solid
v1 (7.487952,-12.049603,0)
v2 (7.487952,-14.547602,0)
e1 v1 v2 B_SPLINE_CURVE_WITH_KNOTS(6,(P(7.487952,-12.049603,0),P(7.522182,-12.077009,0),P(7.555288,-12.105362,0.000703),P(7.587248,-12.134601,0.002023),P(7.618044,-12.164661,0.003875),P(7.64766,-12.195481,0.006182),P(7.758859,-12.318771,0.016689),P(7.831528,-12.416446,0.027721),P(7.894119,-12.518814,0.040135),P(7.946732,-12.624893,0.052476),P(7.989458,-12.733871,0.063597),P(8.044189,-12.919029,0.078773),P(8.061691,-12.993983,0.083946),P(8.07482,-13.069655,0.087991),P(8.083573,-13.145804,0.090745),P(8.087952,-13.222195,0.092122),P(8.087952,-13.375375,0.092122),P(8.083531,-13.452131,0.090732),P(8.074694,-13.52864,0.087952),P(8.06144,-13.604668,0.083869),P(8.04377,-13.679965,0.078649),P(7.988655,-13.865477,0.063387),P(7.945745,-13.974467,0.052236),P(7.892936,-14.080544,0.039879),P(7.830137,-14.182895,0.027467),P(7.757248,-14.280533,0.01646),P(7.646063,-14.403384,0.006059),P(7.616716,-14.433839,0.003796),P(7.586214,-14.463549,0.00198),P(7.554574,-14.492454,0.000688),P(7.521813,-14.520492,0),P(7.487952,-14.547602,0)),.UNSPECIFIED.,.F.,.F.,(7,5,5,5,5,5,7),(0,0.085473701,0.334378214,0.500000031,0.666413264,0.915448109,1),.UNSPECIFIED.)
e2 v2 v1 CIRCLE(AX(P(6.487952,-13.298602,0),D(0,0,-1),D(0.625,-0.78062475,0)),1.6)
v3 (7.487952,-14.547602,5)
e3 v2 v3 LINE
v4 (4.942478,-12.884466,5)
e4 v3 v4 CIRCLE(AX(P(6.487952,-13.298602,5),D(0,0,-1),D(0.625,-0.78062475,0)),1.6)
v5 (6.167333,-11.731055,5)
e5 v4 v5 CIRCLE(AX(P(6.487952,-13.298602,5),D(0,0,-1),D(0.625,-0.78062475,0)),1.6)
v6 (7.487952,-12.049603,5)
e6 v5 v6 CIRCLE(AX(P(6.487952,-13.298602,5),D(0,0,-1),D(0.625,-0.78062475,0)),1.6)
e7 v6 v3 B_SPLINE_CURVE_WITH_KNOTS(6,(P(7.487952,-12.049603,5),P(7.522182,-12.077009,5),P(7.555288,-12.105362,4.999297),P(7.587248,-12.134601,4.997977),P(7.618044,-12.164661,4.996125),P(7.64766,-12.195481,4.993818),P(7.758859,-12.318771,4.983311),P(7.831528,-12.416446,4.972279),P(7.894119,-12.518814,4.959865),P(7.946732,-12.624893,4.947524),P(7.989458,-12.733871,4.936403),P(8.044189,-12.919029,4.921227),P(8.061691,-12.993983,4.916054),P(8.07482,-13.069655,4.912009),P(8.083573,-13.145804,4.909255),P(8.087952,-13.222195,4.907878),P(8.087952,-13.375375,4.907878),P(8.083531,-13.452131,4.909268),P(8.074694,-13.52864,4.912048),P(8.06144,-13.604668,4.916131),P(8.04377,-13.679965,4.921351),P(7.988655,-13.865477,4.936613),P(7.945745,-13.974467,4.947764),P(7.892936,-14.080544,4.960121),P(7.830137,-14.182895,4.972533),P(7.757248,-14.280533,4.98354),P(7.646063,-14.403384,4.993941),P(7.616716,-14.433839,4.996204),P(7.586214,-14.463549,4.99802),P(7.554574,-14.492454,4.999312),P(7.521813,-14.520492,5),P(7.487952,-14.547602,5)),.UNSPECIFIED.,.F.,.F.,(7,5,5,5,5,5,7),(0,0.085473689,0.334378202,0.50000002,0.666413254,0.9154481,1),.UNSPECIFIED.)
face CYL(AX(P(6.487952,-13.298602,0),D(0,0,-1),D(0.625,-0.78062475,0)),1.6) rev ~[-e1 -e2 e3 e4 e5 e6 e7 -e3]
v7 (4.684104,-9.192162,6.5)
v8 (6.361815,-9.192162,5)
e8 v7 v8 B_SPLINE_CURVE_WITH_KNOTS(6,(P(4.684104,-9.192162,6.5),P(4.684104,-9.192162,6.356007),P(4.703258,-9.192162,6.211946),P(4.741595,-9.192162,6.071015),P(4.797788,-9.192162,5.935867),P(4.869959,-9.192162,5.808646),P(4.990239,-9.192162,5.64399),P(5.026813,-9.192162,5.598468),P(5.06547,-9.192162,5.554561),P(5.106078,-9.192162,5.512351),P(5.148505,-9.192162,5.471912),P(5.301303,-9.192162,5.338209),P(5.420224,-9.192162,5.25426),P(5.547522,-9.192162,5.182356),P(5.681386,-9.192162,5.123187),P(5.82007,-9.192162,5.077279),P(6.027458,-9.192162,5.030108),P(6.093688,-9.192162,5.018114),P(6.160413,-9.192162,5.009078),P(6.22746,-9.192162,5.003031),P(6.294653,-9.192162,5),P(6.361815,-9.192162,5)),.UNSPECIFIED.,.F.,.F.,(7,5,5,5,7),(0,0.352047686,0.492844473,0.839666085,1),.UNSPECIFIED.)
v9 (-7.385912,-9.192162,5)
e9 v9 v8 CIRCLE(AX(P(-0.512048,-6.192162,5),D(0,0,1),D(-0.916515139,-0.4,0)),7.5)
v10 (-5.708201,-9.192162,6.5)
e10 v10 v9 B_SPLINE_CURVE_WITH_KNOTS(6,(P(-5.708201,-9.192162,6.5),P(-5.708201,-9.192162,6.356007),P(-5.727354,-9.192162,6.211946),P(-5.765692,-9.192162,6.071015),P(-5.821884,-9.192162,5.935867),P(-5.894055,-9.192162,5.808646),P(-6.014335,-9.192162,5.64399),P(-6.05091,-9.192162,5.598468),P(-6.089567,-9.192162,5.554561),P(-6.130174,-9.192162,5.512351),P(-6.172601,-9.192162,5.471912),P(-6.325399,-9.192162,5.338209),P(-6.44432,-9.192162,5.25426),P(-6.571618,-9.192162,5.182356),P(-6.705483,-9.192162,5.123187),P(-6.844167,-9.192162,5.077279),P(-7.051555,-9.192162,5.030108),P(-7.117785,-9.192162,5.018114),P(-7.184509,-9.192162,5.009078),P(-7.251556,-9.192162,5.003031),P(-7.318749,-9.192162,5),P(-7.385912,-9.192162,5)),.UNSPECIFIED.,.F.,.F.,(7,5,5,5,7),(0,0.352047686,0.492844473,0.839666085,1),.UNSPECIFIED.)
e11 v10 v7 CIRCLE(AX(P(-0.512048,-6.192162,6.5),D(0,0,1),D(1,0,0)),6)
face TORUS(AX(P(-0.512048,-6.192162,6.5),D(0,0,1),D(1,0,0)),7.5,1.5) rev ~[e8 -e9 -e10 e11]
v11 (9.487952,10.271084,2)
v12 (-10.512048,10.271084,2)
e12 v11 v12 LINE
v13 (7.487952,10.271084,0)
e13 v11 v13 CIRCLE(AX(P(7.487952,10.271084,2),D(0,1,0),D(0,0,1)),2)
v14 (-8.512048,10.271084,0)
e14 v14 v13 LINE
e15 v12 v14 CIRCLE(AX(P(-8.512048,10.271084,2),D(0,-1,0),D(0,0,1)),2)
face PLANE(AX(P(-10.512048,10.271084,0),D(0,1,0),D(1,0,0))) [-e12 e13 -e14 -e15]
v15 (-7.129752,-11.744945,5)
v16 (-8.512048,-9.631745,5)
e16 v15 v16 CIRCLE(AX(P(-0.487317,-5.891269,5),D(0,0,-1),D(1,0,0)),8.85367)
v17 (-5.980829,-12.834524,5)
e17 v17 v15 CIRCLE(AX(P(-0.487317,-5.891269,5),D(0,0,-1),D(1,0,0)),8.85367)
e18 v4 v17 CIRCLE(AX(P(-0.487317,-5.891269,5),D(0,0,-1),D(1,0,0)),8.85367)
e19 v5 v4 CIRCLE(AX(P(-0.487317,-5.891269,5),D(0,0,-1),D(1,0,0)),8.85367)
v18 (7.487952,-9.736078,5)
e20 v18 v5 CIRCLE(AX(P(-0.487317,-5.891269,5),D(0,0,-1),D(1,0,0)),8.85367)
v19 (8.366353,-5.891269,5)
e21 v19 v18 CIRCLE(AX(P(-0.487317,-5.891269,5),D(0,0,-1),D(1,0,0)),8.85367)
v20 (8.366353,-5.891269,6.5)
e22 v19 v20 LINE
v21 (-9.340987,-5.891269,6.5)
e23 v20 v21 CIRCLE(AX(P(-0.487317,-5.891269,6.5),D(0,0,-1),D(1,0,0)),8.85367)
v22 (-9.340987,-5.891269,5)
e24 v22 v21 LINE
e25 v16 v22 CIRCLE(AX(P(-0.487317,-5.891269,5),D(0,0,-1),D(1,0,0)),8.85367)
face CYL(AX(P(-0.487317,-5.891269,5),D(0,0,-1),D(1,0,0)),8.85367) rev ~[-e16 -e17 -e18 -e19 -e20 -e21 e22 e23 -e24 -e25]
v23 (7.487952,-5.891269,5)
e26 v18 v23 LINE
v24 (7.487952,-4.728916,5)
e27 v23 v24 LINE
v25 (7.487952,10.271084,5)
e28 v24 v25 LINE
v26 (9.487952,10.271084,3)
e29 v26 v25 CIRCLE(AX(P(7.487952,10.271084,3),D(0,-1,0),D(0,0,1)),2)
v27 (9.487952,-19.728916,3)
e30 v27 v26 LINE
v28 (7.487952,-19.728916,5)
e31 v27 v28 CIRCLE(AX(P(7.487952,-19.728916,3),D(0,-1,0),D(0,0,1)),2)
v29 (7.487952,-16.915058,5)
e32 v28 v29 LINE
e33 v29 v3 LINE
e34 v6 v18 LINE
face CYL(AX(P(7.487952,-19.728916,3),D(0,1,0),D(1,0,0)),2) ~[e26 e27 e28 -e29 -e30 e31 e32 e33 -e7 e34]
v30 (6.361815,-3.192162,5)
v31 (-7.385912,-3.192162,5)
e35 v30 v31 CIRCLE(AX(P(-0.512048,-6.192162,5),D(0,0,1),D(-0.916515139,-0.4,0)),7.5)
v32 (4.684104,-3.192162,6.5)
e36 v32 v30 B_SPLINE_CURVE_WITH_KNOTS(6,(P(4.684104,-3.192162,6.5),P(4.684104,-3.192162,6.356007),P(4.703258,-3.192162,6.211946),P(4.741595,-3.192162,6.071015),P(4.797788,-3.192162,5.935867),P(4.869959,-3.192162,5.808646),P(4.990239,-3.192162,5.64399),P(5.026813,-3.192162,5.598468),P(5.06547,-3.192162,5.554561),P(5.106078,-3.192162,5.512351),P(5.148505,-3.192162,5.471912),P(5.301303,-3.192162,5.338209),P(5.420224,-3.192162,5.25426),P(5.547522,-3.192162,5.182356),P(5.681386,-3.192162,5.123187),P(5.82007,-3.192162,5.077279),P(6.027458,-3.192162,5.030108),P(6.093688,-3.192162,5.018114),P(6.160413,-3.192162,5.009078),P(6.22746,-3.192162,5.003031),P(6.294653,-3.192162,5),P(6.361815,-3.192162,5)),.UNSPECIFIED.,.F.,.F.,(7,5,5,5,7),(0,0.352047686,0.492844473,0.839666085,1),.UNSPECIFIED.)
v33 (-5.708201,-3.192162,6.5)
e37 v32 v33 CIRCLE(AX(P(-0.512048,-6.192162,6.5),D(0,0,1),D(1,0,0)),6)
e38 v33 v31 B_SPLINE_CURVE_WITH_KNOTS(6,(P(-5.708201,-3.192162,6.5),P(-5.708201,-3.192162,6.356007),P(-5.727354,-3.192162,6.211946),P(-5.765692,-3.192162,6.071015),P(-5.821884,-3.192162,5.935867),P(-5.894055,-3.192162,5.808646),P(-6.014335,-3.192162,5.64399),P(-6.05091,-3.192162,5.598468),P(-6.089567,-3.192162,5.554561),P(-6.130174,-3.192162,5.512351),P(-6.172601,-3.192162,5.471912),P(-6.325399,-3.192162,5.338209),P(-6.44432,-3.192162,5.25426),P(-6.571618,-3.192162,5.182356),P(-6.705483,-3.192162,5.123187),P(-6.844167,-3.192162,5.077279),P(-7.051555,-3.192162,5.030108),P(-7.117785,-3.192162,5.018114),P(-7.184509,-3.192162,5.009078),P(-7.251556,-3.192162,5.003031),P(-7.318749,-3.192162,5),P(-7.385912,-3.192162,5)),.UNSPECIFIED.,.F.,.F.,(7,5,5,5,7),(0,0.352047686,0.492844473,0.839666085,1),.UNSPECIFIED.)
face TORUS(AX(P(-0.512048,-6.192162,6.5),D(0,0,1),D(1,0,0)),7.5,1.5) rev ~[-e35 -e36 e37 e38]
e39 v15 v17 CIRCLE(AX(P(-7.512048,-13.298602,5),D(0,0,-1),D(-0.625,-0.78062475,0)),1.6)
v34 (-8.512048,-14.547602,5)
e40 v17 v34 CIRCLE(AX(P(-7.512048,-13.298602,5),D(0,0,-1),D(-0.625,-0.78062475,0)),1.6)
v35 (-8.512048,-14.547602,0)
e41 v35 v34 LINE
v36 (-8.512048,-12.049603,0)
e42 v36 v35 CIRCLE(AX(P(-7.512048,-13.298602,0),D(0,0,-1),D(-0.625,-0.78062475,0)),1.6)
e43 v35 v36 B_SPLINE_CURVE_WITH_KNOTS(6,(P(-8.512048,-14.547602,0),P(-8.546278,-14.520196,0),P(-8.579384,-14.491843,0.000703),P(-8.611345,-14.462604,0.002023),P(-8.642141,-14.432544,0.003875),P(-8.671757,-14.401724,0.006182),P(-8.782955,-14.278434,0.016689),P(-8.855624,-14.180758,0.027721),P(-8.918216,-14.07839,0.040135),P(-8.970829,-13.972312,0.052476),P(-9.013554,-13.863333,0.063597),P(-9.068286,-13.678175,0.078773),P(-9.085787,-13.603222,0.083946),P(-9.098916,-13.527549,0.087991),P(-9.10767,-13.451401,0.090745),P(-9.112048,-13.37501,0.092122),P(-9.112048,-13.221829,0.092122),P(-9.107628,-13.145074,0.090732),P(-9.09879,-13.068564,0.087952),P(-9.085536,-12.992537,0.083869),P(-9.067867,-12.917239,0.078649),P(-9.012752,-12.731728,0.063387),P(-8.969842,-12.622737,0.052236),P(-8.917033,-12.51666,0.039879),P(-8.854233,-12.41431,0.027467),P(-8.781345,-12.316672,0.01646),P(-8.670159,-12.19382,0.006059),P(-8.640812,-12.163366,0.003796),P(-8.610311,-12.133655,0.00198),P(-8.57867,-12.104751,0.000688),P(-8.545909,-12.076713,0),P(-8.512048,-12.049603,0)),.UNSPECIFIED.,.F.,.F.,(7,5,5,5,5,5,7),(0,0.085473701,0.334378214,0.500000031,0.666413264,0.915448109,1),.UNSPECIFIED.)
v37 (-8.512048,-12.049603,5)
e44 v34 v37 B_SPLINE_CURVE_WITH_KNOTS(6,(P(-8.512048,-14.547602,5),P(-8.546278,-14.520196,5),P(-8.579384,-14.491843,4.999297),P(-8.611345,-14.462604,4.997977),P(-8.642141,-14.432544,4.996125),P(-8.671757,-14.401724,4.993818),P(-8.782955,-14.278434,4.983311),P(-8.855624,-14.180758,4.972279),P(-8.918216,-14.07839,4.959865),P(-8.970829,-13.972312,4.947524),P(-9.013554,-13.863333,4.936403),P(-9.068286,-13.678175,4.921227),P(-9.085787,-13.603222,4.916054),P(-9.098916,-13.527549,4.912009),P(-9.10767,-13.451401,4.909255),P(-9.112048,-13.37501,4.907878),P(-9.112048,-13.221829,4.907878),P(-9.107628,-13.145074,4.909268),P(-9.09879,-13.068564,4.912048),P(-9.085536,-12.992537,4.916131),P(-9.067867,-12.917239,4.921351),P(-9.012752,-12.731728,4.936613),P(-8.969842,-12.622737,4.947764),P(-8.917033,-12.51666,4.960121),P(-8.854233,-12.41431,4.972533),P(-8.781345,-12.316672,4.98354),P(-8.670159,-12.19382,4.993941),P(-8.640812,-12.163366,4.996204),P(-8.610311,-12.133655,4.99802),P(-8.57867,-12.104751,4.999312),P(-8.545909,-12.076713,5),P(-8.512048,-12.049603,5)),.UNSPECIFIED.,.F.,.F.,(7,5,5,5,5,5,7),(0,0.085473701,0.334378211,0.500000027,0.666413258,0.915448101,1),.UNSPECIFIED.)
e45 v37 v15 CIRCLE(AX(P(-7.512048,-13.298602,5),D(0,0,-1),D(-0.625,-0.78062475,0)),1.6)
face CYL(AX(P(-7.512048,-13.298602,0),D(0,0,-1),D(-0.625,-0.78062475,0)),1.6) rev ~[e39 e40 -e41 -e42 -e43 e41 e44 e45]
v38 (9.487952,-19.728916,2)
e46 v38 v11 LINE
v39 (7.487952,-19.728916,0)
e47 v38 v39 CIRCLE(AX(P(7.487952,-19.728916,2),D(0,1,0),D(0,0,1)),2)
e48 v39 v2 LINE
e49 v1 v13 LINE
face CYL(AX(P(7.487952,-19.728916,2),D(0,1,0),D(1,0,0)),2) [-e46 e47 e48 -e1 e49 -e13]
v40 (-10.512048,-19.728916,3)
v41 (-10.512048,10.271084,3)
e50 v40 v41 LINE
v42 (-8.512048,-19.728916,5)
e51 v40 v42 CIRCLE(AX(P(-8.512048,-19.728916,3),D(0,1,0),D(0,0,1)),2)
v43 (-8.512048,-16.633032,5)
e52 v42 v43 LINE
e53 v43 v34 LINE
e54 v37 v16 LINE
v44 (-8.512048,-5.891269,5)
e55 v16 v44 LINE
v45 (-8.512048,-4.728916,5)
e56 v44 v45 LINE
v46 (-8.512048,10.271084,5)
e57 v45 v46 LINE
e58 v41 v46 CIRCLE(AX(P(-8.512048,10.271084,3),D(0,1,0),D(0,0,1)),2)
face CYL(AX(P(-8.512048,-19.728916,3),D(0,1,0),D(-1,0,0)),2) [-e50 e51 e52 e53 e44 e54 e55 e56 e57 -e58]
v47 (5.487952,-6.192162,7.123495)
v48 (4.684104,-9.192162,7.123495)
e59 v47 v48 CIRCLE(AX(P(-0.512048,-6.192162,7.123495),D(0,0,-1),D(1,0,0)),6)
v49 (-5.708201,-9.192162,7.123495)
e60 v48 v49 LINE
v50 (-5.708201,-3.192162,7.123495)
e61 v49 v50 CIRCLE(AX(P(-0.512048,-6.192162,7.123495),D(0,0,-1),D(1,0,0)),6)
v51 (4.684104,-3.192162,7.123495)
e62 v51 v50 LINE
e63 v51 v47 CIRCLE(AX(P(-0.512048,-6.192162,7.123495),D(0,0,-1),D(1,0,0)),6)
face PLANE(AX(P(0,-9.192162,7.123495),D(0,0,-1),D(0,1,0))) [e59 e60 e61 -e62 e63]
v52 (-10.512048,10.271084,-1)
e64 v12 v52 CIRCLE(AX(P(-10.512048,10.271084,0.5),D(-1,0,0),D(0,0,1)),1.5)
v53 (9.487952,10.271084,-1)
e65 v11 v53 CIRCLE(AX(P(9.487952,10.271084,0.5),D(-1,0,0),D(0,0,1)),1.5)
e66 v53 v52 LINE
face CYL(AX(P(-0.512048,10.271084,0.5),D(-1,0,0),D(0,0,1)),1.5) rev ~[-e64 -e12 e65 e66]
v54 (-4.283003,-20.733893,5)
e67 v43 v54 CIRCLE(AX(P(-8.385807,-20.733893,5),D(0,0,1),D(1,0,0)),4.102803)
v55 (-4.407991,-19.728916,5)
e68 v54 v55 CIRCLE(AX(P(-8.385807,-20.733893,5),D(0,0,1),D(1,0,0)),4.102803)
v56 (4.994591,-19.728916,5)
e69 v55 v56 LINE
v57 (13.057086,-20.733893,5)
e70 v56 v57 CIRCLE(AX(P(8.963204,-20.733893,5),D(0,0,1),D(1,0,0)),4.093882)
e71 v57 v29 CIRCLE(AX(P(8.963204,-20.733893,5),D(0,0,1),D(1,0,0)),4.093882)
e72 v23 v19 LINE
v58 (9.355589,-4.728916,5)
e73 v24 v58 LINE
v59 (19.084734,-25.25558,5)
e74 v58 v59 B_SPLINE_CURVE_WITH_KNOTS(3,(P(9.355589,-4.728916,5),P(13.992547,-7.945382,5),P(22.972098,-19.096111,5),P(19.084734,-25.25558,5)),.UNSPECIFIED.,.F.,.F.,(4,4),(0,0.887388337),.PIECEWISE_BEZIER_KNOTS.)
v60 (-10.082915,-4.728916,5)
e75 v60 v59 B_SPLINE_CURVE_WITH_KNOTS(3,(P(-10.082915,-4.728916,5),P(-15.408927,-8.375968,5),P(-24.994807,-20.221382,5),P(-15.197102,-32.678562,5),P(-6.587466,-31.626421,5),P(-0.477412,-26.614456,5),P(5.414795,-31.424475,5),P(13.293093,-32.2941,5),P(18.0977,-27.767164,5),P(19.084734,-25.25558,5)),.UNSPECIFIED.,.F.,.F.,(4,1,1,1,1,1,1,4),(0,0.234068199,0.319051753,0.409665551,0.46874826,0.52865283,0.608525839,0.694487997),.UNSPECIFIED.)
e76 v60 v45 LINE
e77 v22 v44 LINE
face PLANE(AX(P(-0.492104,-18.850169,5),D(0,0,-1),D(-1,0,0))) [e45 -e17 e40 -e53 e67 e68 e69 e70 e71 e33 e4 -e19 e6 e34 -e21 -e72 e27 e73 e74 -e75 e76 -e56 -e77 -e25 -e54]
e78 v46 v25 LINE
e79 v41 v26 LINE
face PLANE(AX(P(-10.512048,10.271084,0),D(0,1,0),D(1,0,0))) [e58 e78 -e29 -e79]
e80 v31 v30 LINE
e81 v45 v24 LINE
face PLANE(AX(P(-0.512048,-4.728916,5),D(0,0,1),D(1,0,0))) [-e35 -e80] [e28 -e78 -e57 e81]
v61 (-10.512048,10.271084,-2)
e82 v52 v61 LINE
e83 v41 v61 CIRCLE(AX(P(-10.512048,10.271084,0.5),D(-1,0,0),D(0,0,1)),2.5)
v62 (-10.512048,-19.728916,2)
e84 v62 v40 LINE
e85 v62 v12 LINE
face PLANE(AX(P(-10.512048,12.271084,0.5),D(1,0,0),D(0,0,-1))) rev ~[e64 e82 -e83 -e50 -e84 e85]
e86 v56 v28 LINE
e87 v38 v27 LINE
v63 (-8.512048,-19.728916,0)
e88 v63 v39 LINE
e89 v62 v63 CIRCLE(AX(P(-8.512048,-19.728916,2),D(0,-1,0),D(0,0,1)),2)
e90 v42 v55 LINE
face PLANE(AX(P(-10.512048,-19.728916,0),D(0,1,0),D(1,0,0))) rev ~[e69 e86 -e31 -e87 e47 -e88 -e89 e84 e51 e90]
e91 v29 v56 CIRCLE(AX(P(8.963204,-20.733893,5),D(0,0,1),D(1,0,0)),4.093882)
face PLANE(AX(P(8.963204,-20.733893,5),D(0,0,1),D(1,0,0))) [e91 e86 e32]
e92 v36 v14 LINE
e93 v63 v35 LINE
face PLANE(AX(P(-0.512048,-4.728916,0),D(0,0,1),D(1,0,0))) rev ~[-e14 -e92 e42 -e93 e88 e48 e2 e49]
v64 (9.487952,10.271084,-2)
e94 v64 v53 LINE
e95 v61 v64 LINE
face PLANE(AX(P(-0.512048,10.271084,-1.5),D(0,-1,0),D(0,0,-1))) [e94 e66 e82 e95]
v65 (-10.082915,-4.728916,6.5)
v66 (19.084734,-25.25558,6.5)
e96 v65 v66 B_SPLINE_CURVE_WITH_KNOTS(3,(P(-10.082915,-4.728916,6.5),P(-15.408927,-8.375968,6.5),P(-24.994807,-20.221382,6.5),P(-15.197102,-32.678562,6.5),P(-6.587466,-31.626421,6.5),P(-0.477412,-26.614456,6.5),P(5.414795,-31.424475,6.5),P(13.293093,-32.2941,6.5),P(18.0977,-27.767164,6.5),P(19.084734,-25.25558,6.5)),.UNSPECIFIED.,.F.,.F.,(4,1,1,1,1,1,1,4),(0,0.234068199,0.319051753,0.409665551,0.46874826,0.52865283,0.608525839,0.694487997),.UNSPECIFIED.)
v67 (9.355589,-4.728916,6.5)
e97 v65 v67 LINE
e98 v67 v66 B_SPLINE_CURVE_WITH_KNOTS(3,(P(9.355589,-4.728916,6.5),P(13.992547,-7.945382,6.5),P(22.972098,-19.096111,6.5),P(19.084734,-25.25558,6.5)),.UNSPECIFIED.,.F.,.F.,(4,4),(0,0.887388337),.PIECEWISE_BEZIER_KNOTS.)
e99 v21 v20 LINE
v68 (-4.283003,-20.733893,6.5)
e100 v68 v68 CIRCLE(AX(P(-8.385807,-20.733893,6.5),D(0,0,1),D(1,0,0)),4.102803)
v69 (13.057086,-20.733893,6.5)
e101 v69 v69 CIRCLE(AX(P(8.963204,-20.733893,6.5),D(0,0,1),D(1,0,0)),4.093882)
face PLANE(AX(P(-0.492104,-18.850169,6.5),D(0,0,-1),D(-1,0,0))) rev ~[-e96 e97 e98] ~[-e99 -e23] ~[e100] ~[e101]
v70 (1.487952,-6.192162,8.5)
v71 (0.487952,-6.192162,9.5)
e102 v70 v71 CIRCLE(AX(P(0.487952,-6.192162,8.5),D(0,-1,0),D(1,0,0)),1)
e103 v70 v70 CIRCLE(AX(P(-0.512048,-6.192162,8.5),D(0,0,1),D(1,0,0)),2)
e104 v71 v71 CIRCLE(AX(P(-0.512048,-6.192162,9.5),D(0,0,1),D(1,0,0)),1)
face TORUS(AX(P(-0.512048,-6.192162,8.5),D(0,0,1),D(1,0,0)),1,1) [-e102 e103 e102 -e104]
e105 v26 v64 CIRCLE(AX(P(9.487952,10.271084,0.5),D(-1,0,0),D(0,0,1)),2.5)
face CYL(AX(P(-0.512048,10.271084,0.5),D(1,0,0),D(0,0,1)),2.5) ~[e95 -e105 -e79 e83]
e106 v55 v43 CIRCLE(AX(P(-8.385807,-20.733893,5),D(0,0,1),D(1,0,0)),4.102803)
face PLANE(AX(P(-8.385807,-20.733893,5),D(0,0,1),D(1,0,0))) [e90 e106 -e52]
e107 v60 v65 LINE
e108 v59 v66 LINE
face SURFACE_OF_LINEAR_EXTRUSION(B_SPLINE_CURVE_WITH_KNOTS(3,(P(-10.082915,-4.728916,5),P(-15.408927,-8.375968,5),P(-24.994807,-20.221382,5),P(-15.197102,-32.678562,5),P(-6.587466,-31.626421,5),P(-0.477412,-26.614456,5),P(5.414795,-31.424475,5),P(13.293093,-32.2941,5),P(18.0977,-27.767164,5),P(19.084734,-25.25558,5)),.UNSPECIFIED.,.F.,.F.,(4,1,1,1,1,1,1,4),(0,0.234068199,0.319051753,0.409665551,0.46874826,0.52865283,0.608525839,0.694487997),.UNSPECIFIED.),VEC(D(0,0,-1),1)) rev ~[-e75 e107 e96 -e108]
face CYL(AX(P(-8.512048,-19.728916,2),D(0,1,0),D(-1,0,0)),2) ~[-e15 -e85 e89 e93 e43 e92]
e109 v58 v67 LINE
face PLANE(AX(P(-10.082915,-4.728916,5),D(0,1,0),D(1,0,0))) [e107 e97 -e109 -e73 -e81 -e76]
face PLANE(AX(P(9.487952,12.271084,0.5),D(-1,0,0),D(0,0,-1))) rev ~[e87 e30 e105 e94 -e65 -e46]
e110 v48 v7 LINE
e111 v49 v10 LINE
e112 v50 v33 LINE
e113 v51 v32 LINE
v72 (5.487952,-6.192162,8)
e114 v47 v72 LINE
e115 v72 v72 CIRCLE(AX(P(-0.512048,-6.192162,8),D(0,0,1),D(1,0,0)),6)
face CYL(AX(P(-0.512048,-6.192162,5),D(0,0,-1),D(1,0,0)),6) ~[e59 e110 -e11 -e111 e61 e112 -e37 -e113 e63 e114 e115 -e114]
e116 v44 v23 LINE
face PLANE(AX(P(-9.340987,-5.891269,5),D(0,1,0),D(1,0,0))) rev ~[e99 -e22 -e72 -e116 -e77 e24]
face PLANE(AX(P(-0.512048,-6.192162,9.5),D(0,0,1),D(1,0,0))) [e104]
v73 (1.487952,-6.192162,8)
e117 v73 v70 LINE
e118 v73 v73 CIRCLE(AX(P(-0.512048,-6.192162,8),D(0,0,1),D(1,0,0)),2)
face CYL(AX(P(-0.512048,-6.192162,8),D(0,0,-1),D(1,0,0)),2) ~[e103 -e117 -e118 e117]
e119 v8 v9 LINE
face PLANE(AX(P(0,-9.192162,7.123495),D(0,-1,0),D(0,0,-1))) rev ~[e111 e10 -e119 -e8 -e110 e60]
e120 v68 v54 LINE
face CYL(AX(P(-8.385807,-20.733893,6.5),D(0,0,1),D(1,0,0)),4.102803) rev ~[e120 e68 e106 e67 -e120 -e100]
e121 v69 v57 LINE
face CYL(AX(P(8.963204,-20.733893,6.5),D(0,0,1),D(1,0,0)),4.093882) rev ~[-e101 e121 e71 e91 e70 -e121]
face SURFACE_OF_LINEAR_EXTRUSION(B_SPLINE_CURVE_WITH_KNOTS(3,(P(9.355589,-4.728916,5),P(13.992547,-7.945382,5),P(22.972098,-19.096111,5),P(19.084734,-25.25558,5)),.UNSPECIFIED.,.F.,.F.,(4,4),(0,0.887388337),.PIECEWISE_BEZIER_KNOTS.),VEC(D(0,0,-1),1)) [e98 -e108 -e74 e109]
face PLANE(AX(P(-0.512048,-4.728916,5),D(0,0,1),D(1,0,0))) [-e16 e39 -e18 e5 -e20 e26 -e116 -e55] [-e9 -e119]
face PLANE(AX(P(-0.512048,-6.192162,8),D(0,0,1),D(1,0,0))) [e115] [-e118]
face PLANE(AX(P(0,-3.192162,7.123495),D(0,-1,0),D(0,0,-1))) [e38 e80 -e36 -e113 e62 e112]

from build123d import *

# Parameters (mm, degrees)
SKETCH_1_W          = 20
SKETCH_1_H          = 30
EXTRUDE_1_DEPTH     = 5
FILLET_1_R          = 2
SKETCH_3_R          = 6
EXTRUDE_2_DEPTH     = 3
SKETCH_6_R          = 2
EXTRUDE_3_DEPTH     = 1.5
FILLET_2_R          = 1
FILLET_3_R          = 1.5
CUT_EXTRUDE_2_REACH = 26.29
SKETCH_8_W          = 2.123495481
SKETCH_8_H          = 6
EXTRUDE_4_DEPTH     = 1.5
SKETCH_11_R         = 4.102803396
SKETCH_11_R_2       = 4.093881939
CUT_EXTRUDE_4_DEPTH = 1.5
CUT_EXTRUDE_5_REACH = 41.076
SKETCH_12_R         = 1.6
SKETCH_15_W         = 20
SKETCH_15_H         = 1


with BuildPart() as part:
    # 草图1 → 凸台-拉伸1 (new body)
    with BuildSketch(Plane.XY):
        with Locations((-0.512048193, -4.728915663)):
            Rectangle(SKETCH_1_W, SKETCH_1_H)
    extrude(amount=EXTRUDE_1_DEPTH)

    # 圆角1
    fillet_1_edges = [part.edges().sort_by_distance(p)[0] for p in [
        (9.487951807, -4.728915663, 5),
        (-10.512048193, -4.728915663, 5),
        (9.487951807, -4.728915663, 0),
        (-10.512048193, -4.728915663, 0),
    ]]
    fillet(fillet_1_edges, radius=FILLET_1_R)

    # 草图3 → 凸台-拉伸2 (add)
    with BuildSketch(Plane.XY.offset(5)):
        with Locations((-0.512048193, -6.192161846)):
            Circle(SKETCH_3_R)
    extrude(amount=EXTRUDE_2_DEPTH)

    # 草图6 → 凸台-拉伸3 (add)
    with BuildSketch(Plane.XY.offset(8)):
        with Locations((-0.512048193, -6.192161846)):
            Circle(SKETCH_6_R)
    extrude(amount=EXTRUDE_3_DEPTH)

    # 圆角2
    fillet_2_edges = [part.edges().sort_by_distance(p)[0] for p in [
        (-2.512048193, -6.192161846, 9.5),
    ]]
    fillet(fillet_2_edges, radius=FILLET_2_R)

    # 圆角3
    fillet_3_edges = [part.edges().sort_by_distance(p)[0] for p in [
        (-6.512048193, -6.192161846, 5),
    ]]
    fillet(fillet_3_edges, radius=FILLET_3_R)

    # 草图8 → 切除-拉伸2 (cut, up to next)
    with BuildSketch(Plane(origin=(0, 0, 0), x_dir=(0, 0, -1), z_dir=(1, 0, 0)), mode=Mode.PRIVATE) as cut_extrude_2_sk1:
        with Locations((-6.061747741, -6.192161846)):
            Rectangle(SKETCH_8_W, SKETCH_8_H)
    cut_extrude_2_tool1 = extrude(cut_extrude_2_sk1.sketch, amount=-CUT_EXTRUDE_2_REACH, mode=Mode.PRIVATE) & part.part
    cut_extrude_2 = cut_extrude_2_tool1.solids().sort_by_distance((0, -6.192162, 6.061748))[0]
    add(cut_extrude_2, mode=Mode.SUBTRACT)

    # 镜向1: 切除-拉伸2 across plane
    add(cut_extrude_2.mirror(Plane(origin=(0, 0, 0), x_dir=(0, 0, 1), z_dir=(1, 0, 0))), mode=Mode.SUBTRACT)

    # 草图10 → 凸台-拉伸4 (add)
    with BuildSketch(Plane.XY.offset(5)):
        with BuildLine():
            Line((-9.340987134, -4.728915663), (9.355589447, -4.728915663))
            add(Edge.make_bspline(
                [(9.355589447, -4.728915663), (13.992546716, -7.945382006), (22.972097945, -19.096110537), (19.084733928, -25.255580428)],
                knots=[0, 0, 0, 0, 0.887388337, 0.887388337, 0.887388337, 0.887388337], degree=3))
            add(Edge.make_bspline(
                [(-10.082914776, -4.728915663), (-15.408926962, -8.375968451), (-24.994806931, -20.22138181), (-15.197101736, -32.678561916), (-6.587465976, -31.626421296), (-0.477412243, -26.61445571), (5.414794623, -31.424474746), (13.293093494, -32.294100029), (18.097699513, -27.767163892), (19.084733928, -25.255580428)],
                knots=[0, 0, 0, 0, 0.234068199, 0.319051753, 0.409665551, 0.46874826, 0.52865283, 0.608525839, 0.694487997, 0.694487997, 0.694487997, 0.694487997], degree=3))
            Line((-10.082914776, -4.728915663), (-9.340987134, -4.728915663))
        make_face()
        with BuildLine():
            Line((-9.340987134, -5.891268969), (8.366352591, -5.891268969))
            ThreePointArc((8.366352591, -5.891268969), (-0.487317271, -14.744938831), (-9.340987134, -5.891268969))
        make_face(mode=Mode.SUBTRACT)
    extrude(amount=EXTRUDE_4_DEPTH)

    # 草图11 → 切除-拉伸4 (cut)
    with BuildSketch(Plane.XY.offset(6.5)):
        with Locations((-8.385806573, -20.733892602)):
            Circle(SKETCH_11_R)
        with Locations((8.963204082, -20.733892602)):
            Circle(SKETCH_11_R_2)
    extrude(amount=-CUT_EXTRUDE_4_DEPTH, mode=Mode.SUBTRACT)

    # 切除-拉伸5: up to this face of the body (flat: up to its plane)
    cut_extrude_5_end = Plane(part.part.faces().sort_by_distance((-0.492684215, -8.944423167, 5))[0])
    # 草图12 → 切除-拉伸5 (cut, up to the picked face)
    with BuildSketch(Plane(origin=(0, 0, 0), x_dir=(-1, 0, 0), z_dir=(0, 0, -1)), mode=Mode.PRIVATE) as cut_extrude_5_sk1:
        with Locations(Location((-6.487951807, -13.298602321, 0), (0, 0, 231.317812547))):
            Circle(SKETCH_12_R)
    cut_extrude_5_tool1 = split(extrude(cut_extrude_5_sk1.sketch, amount=-CUT_EXTRUDE_5_REACH, mode=Mode.PRIVATE), bisect_by=cut_extrude_5_end, keep=Keep.BOTH, mode=Mode.PRIVATE)
    # 草图12 → 切除-拉伸5 (cut, up to the picked face)
    with BuildSketch(Plane(origin=(0, 0, 0), x_dir=(-1, 0, 0), z_dir=(0, 0, -1)), mode=Mode.PRIVATE) as cut_extrude_5_sk2:
        with Locations(Location((7.512048193, -13.298602321, 0), (0, 0, 308.682187453))):
            Circle(SKETCH_12_R)
    cut_extrude_5_tool2 = split(extrude(cut_extrude_5_sk2.sketch, amount=-CUT_EXTRUDE_5_REACH, mode=Mode.PRIVATE), bisect_by=cut_extrude_5_end, keep=Keep.BOTH, mode=Mode.PRIVATE)
    add(cut_extrude_5_tool1.solids().sort_by(Axis((6.487952, -13.298602, 0), (0, 0, 1)))[0], mode=Mode.SUBTRACT)
    add(cut_extrude_5_tool2.solids().sort_by(Axis((-7.512048, -13.298602, 0), (0, 0, 1)))[0], mode=Mode.SUBTRACT)

    # 扫描1: sweep along a path in 草图14
    with BuildLine(Plane(origin=(0, 0, 0), x_dir=(0, 0, -1), z_dir=(1, 0, 0))) as sweep_1_path:
        ThreePointArc((-2.5, 10.271084337), (-0.5, 12.271084337), (1.5, 10.271084337))
    # 草图15 → 扫描1 (sweep)
    with BuildSketch(Plane(origin=(0, 10.271084337, 0), x_dir=(1, 0, 0), z_dir=(0, 1, 0))):
        with Locations((-0.512048193, -2.5)):
            Rectangle(SKETCH_15_W, SKETCH_15_H)
    sweep(path=sweep_1_path.line)


solid = part.part
